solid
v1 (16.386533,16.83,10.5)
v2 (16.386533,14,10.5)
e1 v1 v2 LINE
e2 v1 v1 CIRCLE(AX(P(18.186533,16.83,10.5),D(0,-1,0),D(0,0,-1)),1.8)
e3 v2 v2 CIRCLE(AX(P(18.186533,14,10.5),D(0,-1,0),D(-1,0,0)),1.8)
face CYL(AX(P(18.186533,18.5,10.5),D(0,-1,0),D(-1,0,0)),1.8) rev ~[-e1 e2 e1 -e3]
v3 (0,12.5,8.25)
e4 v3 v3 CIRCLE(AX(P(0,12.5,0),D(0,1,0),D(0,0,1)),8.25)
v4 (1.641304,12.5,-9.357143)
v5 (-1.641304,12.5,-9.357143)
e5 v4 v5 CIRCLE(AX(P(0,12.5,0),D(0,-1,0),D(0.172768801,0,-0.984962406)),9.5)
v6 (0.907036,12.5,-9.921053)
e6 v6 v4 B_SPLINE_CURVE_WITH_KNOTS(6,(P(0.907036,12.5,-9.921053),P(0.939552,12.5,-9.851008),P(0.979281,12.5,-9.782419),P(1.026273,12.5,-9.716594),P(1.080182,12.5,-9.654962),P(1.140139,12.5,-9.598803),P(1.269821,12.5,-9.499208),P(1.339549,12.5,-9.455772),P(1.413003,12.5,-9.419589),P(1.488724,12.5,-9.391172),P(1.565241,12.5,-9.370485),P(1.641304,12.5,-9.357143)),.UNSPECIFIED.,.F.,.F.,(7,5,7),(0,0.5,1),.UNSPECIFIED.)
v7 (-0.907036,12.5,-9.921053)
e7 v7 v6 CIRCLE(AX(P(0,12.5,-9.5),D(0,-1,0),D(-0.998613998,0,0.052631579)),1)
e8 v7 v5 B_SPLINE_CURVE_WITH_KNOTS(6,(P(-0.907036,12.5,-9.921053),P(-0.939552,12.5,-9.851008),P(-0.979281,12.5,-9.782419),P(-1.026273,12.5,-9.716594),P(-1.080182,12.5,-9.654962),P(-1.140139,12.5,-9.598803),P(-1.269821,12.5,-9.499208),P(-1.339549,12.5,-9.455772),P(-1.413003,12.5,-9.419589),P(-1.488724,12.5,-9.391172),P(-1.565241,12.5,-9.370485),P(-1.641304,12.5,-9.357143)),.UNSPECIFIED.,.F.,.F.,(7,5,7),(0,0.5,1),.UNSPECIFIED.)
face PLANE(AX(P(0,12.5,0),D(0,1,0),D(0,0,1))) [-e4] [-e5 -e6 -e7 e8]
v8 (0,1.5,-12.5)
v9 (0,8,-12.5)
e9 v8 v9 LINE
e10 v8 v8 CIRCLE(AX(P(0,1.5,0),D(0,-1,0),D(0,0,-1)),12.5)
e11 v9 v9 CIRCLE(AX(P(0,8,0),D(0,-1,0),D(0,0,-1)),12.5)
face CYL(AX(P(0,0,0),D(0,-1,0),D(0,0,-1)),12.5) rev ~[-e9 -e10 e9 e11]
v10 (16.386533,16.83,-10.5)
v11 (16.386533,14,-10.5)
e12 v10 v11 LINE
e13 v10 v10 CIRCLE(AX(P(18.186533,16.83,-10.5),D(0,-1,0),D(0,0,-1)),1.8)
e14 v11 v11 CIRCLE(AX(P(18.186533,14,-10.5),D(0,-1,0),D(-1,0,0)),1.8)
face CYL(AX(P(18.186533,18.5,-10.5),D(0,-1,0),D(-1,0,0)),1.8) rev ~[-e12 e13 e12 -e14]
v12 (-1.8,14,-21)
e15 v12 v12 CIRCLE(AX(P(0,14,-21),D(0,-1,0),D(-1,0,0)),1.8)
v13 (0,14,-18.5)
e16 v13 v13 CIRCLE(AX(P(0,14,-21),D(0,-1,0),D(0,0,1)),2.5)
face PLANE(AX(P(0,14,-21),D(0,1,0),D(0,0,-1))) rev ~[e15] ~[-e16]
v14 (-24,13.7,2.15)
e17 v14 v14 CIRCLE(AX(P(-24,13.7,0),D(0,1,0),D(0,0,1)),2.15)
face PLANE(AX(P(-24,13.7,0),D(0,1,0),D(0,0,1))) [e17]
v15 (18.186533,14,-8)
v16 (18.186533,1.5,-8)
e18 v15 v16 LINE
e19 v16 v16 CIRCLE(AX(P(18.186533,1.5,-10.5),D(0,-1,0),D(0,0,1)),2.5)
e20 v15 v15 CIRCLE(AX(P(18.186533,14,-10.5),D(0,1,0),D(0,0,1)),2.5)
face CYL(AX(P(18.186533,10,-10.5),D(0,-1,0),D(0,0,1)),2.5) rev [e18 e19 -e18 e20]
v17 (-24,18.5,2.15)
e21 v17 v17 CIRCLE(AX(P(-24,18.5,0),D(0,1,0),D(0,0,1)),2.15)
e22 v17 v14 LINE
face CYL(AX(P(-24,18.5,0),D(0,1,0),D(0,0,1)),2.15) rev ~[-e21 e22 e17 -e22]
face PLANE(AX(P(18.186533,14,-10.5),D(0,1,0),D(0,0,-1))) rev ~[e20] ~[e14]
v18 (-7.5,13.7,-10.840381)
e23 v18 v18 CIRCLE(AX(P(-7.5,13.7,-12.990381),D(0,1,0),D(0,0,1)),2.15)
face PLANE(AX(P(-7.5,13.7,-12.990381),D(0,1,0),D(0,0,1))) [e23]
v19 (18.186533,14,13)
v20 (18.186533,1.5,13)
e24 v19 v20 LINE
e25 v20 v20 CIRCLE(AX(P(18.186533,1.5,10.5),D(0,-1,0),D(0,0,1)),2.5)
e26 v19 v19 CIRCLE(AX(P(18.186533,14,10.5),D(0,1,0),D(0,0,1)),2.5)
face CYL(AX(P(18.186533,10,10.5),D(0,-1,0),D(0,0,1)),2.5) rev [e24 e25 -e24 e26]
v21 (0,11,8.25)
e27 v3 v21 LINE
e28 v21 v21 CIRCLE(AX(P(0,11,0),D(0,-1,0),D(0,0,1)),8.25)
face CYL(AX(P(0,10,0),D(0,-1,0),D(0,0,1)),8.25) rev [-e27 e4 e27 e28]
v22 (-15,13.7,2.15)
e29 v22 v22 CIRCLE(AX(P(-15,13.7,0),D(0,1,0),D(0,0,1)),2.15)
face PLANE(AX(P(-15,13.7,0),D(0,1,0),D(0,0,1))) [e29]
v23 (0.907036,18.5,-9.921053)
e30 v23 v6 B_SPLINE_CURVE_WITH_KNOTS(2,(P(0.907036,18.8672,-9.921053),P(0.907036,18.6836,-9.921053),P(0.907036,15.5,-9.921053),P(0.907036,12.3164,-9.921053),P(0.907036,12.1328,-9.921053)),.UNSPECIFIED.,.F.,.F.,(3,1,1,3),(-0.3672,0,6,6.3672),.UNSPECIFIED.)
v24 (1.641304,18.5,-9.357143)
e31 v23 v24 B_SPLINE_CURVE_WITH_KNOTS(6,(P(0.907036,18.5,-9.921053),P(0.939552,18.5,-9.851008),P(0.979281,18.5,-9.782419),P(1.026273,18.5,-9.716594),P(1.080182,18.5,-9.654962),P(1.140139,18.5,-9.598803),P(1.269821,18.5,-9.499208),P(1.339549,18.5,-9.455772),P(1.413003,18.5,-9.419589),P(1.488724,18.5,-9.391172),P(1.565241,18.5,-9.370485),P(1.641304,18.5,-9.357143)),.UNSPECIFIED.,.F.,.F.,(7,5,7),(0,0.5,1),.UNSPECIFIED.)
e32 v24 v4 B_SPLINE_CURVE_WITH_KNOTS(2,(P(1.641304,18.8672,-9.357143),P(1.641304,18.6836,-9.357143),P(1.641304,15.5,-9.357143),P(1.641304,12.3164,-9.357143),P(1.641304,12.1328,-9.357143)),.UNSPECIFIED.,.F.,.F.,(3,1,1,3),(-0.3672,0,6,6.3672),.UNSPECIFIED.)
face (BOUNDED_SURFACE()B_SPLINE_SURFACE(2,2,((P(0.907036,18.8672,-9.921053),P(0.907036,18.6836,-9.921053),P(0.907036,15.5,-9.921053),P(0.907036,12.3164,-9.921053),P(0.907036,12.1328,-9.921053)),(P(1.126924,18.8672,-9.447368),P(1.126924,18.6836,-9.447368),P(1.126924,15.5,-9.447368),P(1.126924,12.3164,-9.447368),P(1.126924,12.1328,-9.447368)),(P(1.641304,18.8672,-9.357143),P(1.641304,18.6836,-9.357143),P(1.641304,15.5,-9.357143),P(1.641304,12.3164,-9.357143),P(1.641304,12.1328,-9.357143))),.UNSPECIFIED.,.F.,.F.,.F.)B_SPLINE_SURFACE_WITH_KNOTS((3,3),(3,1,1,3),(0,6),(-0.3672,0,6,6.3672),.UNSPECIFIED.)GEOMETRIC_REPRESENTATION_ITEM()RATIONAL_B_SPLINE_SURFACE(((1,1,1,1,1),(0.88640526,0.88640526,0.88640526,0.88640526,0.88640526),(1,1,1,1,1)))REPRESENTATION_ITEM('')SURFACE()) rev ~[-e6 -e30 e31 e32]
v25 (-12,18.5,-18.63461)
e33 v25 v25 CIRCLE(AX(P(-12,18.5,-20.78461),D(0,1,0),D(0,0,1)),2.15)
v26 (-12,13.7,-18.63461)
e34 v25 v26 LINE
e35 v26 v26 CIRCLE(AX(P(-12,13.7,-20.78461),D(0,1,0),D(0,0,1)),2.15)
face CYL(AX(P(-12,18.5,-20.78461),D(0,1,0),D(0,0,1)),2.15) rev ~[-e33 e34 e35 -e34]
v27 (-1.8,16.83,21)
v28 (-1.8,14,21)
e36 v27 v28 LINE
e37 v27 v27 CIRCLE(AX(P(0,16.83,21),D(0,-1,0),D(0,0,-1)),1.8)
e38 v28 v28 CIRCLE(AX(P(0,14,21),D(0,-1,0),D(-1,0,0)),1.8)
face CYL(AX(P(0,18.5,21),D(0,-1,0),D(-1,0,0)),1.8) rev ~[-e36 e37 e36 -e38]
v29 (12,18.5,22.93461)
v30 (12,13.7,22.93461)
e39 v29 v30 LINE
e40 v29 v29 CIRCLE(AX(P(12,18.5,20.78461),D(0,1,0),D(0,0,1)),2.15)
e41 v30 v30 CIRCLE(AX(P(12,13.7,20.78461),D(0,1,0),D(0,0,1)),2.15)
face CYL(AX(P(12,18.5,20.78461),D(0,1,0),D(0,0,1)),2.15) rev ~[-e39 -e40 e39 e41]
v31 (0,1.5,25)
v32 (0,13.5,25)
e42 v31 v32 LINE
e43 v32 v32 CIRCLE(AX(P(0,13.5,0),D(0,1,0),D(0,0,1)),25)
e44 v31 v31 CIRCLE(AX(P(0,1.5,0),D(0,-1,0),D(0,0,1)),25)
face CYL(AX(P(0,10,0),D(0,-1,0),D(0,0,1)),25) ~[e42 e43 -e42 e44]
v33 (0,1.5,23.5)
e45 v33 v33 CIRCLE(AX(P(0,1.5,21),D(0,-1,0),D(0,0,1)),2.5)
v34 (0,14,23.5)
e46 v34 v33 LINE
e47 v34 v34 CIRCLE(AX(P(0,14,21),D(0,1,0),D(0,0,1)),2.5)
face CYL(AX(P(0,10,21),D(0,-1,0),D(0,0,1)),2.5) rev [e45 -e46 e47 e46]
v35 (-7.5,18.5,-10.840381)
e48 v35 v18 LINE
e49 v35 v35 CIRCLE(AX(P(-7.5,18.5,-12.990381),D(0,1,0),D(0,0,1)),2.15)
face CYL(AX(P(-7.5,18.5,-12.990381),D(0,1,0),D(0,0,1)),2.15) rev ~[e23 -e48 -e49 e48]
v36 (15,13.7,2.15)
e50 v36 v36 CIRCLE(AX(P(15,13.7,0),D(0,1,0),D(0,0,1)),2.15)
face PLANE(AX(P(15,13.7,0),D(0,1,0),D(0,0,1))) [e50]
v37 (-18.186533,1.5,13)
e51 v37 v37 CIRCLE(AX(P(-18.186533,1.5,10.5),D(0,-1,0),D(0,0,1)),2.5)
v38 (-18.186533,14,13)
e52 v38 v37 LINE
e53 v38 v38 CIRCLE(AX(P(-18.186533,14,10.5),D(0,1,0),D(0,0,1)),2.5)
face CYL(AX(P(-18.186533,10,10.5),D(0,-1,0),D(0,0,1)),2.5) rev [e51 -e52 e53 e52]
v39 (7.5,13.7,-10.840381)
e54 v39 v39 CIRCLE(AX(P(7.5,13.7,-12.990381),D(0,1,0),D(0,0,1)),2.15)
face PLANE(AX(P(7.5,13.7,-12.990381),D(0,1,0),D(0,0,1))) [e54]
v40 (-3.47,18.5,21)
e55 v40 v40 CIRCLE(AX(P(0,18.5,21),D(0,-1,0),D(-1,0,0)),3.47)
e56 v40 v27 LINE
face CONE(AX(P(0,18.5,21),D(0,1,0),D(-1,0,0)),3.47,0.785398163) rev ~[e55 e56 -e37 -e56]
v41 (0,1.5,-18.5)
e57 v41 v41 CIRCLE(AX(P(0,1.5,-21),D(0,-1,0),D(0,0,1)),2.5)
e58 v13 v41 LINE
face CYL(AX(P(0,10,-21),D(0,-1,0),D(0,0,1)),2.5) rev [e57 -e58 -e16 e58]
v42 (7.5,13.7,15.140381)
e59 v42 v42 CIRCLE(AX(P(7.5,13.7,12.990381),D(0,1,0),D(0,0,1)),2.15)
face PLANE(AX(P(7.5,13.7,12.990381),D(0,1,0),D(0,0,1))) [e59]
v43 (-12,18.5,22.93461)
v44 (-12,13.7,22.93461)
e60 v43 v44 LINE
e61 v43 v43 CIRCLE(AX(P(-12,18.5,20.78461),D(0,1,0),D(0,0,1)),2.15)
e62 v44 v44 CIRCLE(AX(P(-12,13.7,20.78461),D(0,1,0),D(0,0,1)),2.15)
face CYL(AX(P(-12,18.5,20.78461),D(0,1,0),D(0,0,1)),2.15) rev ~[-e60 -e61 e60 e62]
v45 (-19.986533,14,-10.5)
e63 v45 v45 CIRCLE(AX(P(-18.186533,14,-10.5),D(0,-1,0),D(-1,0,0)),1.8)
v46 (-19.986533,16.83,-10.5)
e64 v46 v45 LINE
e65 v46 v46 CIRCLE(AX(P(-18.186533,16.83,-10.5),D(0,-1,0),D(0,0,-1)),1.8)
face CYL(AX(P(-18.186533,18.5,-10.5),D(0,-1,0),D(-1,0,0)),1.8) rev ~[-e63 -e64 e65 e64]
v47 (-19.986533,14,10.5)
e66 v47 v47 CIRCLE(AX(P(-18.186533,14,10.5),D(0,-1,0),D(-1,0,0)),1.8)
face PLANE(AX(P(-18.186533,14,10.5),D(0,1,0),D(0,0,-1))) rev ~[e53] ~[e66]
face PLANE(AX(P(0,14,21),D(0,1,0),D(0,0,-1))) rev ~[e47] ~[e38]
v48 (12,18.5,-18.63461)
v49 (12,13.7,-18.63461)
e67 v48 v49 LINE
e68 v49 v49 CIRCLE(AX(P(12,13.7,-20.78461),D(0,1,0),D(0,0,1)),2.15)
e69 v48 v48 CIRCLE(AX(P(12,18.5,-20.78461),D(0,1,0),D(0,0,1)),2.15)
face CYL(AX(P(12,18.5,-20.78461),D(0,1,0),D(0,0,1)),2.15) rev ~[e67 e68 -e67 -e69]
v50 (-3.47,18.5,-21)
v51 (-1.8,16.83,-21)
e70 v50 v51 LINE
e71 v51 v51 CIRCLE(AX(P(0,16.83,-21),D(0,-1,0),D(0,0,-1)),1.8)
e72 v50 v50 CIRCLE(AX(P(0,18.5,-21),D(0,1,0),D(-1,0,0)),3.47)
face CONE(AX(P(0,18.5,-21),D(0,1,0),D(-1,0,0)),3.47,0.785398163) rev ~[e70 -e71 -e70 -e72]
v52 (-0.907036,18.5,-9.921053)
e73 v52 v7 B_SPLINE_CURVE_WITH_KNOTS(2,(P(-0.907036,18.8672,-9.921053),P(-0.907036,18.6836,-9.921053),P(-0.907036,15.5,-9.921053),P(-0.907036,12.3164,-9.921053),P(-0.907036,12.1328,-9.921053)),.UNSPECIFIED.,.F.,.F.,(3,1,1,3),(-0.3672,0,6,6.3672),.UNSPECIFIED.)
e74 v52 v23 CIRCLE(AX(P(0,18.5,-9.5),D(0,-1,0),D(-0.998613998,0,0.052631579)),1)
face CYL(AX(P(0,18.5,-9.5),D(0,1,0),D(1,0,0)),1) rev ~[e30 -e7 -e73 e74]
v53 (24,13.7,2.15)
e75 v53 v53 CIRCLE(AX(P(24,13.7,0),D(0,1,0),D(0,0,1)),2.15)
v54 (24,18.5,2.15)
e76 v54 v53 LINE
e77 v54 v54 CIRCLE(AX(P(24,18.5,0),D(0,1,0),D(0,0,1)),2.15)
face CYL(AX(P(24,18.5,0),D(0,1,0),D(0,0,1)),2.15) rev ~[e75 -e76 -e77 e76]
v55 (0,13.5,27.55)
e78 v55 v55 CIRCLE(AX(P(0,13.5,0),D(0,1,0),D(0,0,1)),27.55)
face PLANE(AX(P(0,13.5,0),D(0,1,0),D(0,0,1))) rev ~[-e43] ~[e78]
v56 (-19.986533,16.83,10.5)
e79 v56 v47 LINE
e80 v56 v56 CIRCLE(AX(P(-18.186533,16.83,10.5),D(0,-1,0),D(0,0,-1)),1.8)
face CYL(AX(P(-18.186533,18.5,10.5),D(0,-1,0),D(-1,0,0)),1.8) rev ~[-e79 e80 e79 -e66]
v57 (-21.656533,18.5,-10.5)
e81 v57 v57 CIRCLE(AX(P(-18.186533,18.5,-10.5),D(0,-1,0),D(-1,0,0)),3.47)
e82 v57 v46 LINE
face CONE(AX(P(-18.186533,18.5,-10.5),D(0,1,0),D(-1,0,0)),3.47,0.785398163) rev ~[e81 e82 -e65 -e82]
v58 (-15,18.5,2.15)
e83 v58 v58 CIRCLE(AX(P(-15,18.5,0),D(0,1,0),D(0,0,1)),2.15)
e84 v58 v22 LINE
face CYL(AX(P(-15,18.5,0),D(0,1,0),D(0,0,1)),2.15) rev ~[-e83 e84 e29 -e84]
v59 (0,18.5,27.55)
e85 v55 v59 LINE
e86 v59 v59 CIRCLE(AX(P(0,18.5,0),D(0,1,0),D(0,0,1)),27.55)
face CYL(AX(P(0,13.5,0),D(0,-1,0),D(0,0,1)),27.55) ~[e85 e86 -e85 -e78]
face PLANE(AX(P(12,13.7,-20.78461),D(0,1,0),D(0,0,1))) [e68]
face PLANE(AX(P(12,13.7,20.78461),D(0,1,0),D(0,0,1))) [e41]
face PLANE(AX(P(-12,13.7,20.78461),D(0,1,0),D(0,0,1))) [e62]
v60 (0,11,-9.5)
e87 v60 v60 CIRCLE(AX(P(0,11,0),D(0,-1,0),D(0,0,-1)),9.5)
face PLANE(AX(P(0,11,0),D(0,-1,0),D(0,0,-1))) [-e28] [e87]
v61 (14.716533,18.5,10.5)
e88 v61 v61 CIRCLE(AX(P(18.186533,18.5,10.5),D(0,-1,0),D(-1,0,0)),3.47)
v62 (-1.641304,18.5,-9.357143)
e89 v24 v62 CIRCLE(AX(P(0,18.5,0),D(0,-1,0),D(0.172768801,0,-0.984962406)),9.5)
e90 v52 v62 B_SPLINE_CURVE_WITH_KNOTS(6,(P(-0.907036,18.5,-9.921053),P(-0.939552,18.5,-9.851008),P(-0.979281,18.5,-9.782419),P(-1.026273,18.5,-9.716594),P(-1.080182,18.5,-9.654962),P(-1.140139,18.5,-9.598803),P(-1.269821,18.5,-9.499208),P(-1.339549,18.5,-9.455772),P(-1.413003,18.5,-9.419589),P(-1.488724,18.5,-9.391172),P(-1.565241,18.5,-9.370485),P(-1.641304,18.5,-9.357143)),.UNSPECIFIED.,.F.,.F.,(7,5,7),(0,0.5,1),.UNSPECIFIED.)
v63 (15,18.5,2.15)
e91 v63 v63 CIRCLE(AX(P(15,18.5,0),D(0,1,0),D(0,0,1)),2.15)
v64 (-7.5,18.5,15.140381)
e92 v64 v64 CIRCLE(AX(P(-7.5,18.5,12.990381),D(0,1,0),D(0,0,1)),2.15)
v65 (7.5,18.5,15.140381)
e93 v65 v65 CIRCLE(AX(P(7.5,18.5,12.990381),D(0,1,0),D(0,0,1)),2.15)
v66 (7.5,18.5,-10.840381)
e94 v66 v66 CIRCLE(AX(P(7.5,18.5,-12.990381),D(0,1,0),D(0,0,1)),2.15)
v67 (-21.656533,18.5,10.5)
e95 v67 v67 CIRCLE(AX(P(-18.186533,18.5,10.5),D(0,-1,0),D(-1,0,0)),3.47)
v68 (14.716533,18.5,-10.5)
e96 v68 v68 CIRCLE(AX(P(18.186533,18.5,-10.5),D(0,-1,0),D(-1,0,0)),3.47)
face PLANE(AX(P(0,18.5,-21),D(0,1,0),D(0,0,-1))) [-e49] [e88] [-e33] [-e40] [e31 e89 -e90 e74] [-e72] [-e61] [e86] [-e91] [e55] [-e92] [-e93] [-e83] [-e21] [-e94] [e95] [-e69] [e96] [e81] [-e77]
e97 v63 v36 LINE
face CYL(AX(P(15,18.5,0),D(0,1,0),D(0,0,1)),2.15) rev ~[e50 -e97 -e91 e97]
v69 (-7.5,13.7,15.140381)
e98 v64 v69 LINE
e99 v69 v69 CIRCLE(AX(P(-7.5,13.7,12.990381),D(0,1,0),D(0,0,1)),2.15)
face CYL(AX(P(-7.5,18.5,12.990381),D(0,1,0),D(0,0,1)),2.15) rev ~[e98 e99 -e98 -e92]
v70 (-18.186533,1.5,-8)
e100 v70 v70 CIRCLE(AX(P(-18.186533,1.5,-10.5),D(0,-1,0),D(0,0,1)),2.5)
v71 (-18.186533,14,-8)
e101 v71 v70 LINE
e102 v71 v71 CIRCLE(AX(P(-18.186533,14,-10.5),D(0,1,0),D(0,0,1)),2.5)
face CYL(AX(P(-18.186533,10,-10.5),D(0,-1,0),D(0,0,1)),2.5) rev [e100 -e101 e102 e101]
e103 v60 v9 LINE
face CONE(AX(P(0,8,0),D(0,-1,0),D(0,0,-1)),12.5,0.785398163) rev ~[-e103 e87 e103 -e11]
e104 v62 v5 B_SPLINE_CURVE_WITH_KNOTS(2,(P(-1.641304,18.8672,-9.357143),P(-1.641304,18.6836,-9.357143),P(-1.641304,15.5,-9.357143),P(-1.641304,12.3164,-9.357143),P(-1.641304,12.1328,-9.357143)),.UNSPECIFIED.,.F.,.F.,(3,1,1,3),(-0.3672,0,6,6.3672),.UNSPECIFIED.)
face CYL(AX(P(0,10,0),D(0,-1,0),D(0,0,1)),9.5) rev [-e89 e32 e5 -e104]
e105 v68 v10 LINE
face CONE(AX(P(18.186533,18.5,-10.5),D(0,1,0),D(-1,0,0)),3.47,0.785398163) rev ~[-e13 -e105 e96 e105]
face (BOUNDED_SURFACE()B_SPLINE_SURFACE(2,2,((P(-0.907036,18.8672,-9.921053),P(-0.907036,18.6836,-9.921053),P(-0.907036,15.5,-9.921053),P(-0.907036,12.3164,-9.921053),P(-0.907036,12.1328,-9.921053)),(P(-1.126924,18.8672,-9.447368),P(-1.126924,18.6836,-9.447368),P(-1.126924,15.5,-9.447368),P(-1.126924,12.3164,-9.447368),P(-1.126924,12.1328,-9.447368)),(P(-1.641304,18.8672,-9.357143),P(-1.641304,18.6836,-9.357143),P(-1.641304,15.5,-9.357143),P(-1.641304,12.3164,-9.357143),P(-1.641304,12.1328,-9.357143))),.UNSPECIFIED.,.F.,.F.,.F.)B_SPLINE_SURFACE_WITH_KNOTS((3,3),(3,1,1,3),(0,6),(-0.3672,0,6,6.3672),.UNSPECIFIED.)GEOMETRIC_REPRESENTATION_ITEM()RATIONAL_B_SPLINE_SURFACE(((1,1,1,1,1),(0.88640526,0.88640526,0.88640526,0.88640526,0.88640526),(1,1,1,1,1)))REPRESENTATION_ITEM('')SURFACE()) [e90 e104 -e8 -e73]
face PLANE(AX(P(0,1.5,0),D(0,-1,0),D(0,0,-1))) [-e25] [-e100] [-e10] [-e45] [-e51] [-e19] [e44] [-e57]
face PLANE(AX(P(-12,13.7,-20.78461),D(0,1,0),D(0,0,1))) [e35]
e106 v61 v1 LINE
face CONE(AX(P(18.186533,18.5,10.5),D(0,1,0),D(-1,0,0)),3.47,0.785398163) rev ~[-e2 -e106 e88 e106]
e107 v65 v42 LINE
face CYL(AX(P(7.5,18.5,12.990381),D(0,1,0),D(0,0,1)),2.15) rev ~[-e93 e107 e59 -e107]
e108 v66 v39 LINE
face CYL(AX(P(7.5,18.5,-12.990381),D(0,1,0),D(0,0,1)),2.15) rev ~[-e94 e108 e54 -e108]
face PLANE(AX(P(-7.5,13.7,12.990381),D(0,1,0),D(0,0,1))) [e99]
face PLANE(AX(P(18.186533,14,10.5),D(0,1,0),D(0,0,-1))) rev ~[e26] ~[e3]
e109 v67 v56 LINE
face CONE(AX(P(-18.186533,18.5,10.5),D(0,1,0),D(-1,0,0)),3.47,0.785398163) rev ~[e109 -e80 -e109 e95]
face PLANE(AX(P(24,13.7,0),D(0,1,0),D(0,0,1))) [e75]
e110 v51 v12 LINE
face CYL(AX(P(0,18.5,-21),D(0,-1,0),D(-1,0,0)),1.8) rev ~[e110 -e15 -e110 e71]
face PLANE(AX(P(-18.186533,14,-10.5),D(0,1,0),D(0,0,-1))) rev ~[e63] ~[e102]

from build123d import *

# Parameters (mm, degrees)
SKETCH1_R                                            = 25
SKETCH1_R_2                                          = 2.5
SKETCH1_R_3                                          = 8.25
BOSS_EXTRUDE1_DEPTH                                  = 10
SKETCH2_R                                            = 15.5
SKETCH2_R_2                                          = 9.5
BOSS_EXTRUDE2_DEPTH                                  = 8.5
SKETCH4_R                                            = 9.5
SKETCH4_R_2                                          = 8.25
BOSS_EXTRUDE3_DEPTH                                  = 2.5
SKETCH3_R                                            = 12.5
CUT_EXTRUDE1_DEPTH                                   = 11
CHAMFER1_SIZE                                        = 3
SKETCH5_R                                            = 25
SKETCH5_R_2                                          = 2.5
SKETCH5_R_3                                          = 15.5
BOSS_EXTRUDE4_DEPTH                                  = 8.5
BOSS_EXTRUDE5_START                                  = -5
SKETCH6_R                                            = 27.55
SKETCH6_R_2                                          = 25
BOSS_EXTRUDE5_DEPTH                                  = 5
SKETCH8_R                                            = 1
CUT_EXTRUDE2_DEPTH                                   = 6
FILLET1_R                                            = 1
SKETCH11_R                                           = 2.15
CUT_EXTRUDE3_DEPTH                                   = 4.8
SKETCH12_R                                           = 25
SKETCH12_R_2                                         = 2.5
SKETCH12_R_3                                         = 12.5
CUT_EXTRUDE4_DEPTH                                   = 1.5
BOSS_EXTRUDE8_START                                  = -4.5
SKETCH14_R                                           = 2.5
SKETCH14_R_2                                         = 1.5
BOSS_EXTRUDE8_DEPTH                                  = 4.5
CSK_FOR_M3_SOCKET_COUNTERSUNK_HEAD_SCREW_D           = 3.6
CSK_FOR_M3_SOCKET_COUNTERSUNK_HEAD_SCREW_CSINK_D     = 6.94
CSK_FOR_M3_SOCKET_COUNTERSUNK_HEAD_SCREW_CSINK_ANGLE = 90


with BuildPart() as part:
    # Sketch1 → Boss-Extrude1 (new body)
    with BuildSketch(Plane(origin=(0, 0, 0), x_dir=(1, 0, 0), z_dir=(0, 1, 0))):
        with Locations(Location((0, 0, 0), (0, 0, 270))):
            Circle(SKETCH1_R)
        with Locations(Location((0, 21, 0), (0, 0, 270))):
            Circle(SKETCH1_R_2, mode=Mode.SUBTRACT)
        with Locations(Location((18.186533479, 10.5, 0), (0, 0, 270))):
            Circle(SKETCH1_R_2, mode=Mode.SUBTRACT)
        with Locations(Location((18.186533479, -10.5, 0), (0, 0, 270))):
            Circle(SKETCH1_R_2, mode=Mode.SUBTRACT)
        with Locations(Location((0, -21, 0), (0, 0, 270))):
            Circle(SKETCH1_R_2, mode=Mode.SUBTRACT)
        with Locations(Location((-18.186533479, -10.5, 0), (0, 0, 270))):
            Circle(SKETCH1_R_2, mode=Mode.SUBTRACT)
        with Locations(Location((-18.186533479, 10.5, 0), (0, 0, 270))):
            Circle(SKETCH1_R_2, mode=Mode.SUBTRACT)
        with Locations(Location((0, 0, 0), (0, 0, 270))):
            Circle(SKETCH1_R_3, mode=Mode.SUBTRACT)
    extrude(amount=BOSS_EXTRUDE1_DEPTH)

    # Sketch2 → Boss-Extrude2 (add)
    with BuildSketch(Plane(origin=(0, 10, 0), x_dir=(1, 0, 0), z_dir=(0, 1, 0))):
        with Locations(Location((0, 0, 0), (0, 0, 270))):
            Circle(SKETCH2_R)
        with Locations(Location((0, 0, 0), (0, 0, 270))):
            Circle(SKETCH2_R_2, mode=Mode.SUBTRACT)
    extrude(amount=BOSS_EXTRUDE2_DEPTH)

    # Sketch4 → Boss-Extrude3 (add)
    with BuildSketch(Plane(origin=(0, 10, 0), x_dir=(1, 0, 0), z_dir=(0, 1, 0))):
        with Locations(Location((0, 0, 0), (0, 0, 270))):
            Circle(SKETCH4_R)
        with Locations(Location((0, 0, 0), (0, 0, 270))):
            Circle(SKETCH4_R_2, mode=Mode.SUBTRACT)
    extrude(amount=BOSS_EXTRUDE3_DEPTH)

    # Sketch3 → Cut-Extrude1 (cut)
    with BuildSketch(Plane.XZ):
        with Locations(Location((0, 0, 0), (0, 0, 270))):
            Circle(SKETCH3_R)
    extrude(amount=-CUT_EXTRUDE1_DEPTH, mode=Mode.SUBTRACT)

    # Chamfer1
    chamfer1_edges = [part.edges().sort_by_distance(p)[0] for p in [
        (0, 11, 12.5),
    ]]
    chamfer(chamfer1_edges, length=CHAMFER1_SIZE)

    # Sketch5 → Boss-Extrude4 (add)
    with BuildSketch(Plane(origin=(0, 10, 0), x_dir=(1, 0, 0), z_dir=(0, 1, 0))):
        with Locations(Location((0, 0, 0), (0, 0, 270))):
            Circle(SKETCH5_R)
        with Locations(Location((0, 21, 0), (0, 0, 270))):
            Circle(SKETCH5_R_2, mode=Mode.SUBTRACT)
        with Locations(Location((18.186533479, 10.5, 0), (0, 0, 270))):
            Circle(SKETCH5_R_2, mode=Mode.SUBTRACT)
        with Locations(Location((18.186533479, -10.5, 0), (0, 0, 270))):
            Circle(SKETCH5_R_2, mode=Mode.SUBTRACT)
        with Locations(Location((0, -21, 0), (0, 0, 270))):
            Circle(SKETCH5_R_2, mode=Mode.SUBTRACT)
        with Locations(Location((-18.186533479, -10.5, 0), (0, 0, 270))):
            Circle(SKETCH5_R_2, mode=Mode.SUBTRACT)
        with Locations(Location((-18.186533479, 10.5, 0), (0, 0, 270))):
            Circle(SKETCH5_R_2, mode=Mode.SUBTRACT)
        Circle(SKETCH5_R_3, mode=Mode.SUBTRACT)
    extrude(amount=BOSS_EXTRUDE4_DEPTH)

    # Sketch6 → Boss-Extrude5 (add)
    with BuildSketch(Plane(origin=(0, 18.5, 0), x_dir=(1, 0, 0), z_dir=(0, 1, 0)).offset(BOSS_EXTRUDE5_START)):
        with Locations(Location((0, 0, 0), (0, 0, 270))):
            Circle(SKETCH6_R)
        with Locations(Location((0, 0, 0), (0, 0, 270))):
            Circle(SKETCH6_R_2, mode=Mode.SUBTRACT)
    extrude(amount=BOSS_EXTRUDE5_DEPTH)

    # Sketch8 → Cut-Extrude2 (cut)
    with BuildSketch(Plane(origin=(0, 18.5, 0), x_dir=(1, 0, 0), z_dir=(0, 1, 0))):
        with Locations((0, 9.5)):
            Circle(SKETCH8_R)
    extrude(amount=-CUT_EXTRUDE2_DEPTH, mode=Mode.SUBTRACT)

    # Fillet1
    fillet1_edges = [part.edges().sort_by_distance(p)[0] for p in [
        (0.998613998, 15.5, -9.447368421),
        (-0.998613998, 15.5, -9.447368421),
    ]]
    fillet(fillet1_edges, radius=FILLET1_R)

    # Sketch11 → Cut-Extrude3 (cut)
    with BuildSketch(Plane(origin=(0, 18.5, 0), x_dir=(1, 0, 0), z_dir=(0, 1, 0))):
        with Locations(Location((7.5, 12.990381057, 0), (0, 0, 270))):
            Circle(SKETCH11_R)
        with Locations(Location((15, 0, 0), (0, 0, 270))):
            Circle(SKETCH11_R)
        with Locations(Location((7.5, -12.990381057, 0), (0, 0, 270))):
            Circle(SKETCH11_R)
        with Locations(Location((-7.5, -12.990381057, 0), (0, 0, 270))):
            Circle(SKETCH11_R)
        with Locations(Location((-15, 0, 0), (0, 0, 270))):
            Circle(SKETCH11_R)
        with Locations(Location((-7.5, 12.990381057, 0), (0, 0, 270))):
            Circle(SKETCH11_R)
        with Locations(Location((-24, 0, 0), (0, 0, 270))):
            Circle(SKETCH11_R)
        with Locations(Location((-12, 20.784609691, 0), (0, 0, 270))):
            Circle(SKETCH11_R)
        with Locations(Location((12, 20.784609691, 0), (0, 0, 270))):
            Circle(SKETCH11_R)
        with Locations(Location((24, 0, 0), (0, 0, 270))):
            Circle(SKETCH11_R)
        with Locations(Location((12, -20.784609691, 0), (0, 0, 270))):
            Circle(SKETCH11_R)
        with Locations(Location((-12, -20.784609691, 0), (0, 0, 270))):
            Circle(SKETCH11_R)
    extrude(amount=-CUT_EXTRUDE3_DEPTH, mode=Mode.SUBTRACT)

    # Sketch12 → Cut-Extrude4 (cut)
    with BuildSketch(Plane.XZ):
        with Locations(Location((0, 0, 0), (0, 0, 270))):
            Circle(SKETCH12_R)
        with Locations(Location((18.186533479, 10.5, 0), (0, 0, 270))):
            Circle(SKETCH12_R_2, mode=Mode.SUBTRACT)
        with Locations(Location((18.186533479, -10.5, 0), (0, 0, 270))):
            Circle(SKETCH12_R_2, mode=Mode.SUBTRACT)
        with Locations(Location((0, -21, 0), (0, 0, 270))):
            Circle(SKETCH12_R_2, mode=Mode.SUBTRACT)
        with Locations(Location((-18.186533479, -10.5, 0), (0, 0, 270))):
            Circle(SKETCH12_R_2, mode=Mode.SUBTRACT)
        with Locations(Location((-18.186533479, 10.5, 0), (0, 0, 270))):
            Circle(SKETCH12_R_2, mode=Mode.SUBTRACT)
        with Locations(Location((0, 21, 0), (0, 0, 270))):
            Circle(SKETCH12_R_2, mode=Mode.SUBTRACT)
        with Locations(Location((0, 0, 0), (0, 0, 270))):
            Circle(SKETCH12_R_3, mode=Mode.SUBTRACT)
    extrude(amount=-CUT_EXTRUDE4_DEPTH, mode=Mode.SUBTRACT)

    # Sketch14 → Boss-Extrude8 (add)
    # profile 1 of 6: a face of its own
    with BuildSketch(Plane(origin=(0, 18.5, 0), x_dir=(1, 0, 0), z_dir=(0, 1, 0)).offset(BOSS_EXTRUDE8_START)):
        with Locations(Location((0, 21, 0), (0, 0, 90))):
            Circle(SKETCH14_R)
        with Locations(Location((0, 21, 0), (0, 0, 270))):
            Circle(SKETCH14_R_2, mode=Mode.SUBTRACT)
    # profile 2 of 6: a face of its own
    with BuildSketch(Plane(origin=(0, 18.5, 0), x_dir=(1, 0, 0), z_dir=(0, 1, 0)).offset(BOSS_EXTRUDE8_START)):
        with Locations(Location((18.186533479, 10.5, 0), (0, 0, 90))):
            Circle(SKETCH14_R)
        with Locations(Location((18.186533479, 10.5, 0), (0, 0, 270))):
            Circle(SKETCH14_R_2, mode=Mode.SUBTRACT)
    # profile 3 of 6: a face of its own
    with BuildSketch(Plane(origin=(0, 18.5, 0), x_dir=(1, 0, 0), z_dir=(0, 1, 0)).offset(BOSS_EXTRUDE8_START)):
        with Locations(Location((18.186533479, -10.5, 0), (0, 0, 90))):
            Circle(SKETCH14_R)
        with Locations(Location((18.186533479, -10.5, 0), (0, 0, 270))):
            Circle(SKETCH14_R_2, mode=Mode.SUBTRACT)
    # profile 4 of 6: a face of its own
    with BuildSketch(Plane(origin=(0, 18.5, 0), x_dir=(1, 0, 0), z_dir=(0, 1, 0)).offset(BOSS_EXTRUDE8_START)):
        with Locations(Location((0, -21, 0), (0, 0, 90))):
            Circle(SKETCH14_R)
        with Locations(Location((0, -21, 0), (0, 0, 270))):
            Circle(SKETCH14_R_2, mode=Mode.SUBTRACT)
    # profile 5 of 6: a face of its own
    with BuildSketch(Plane(origin=(0, 18.5, 0), x_dir=(1, 0, 0), z_dir=(0, 1, 0)).offset(BOSS_EXTRUDE8_START)):
        with Locations(Location((-18.186533479, -10.5, 0), (0, 0, 90))):
            Circle(SKETCH14_R)
        with Locations(Location((-18.186533479, -10.5, 0), (0, 0, 270))):
            Circle(SKETCH14_R_2, mode=Mode.SUBTRACT)
    # profile 6 of 6: a face of its own
    with BuildSketch(Plane(origin=(0, 18.5, 0), x_dir=(1, 0, 0), z_dir=(0, 1, 0)).offset(BOSS_EXTRUDE8_START)):
        with Locations(Location((-18.186533479, 10.5, 0), (0, 0, 90))):
            Circle(SKETCH14_R)
        with Locations(Location((-18.186533479, 10.5, 0), (0, 0, 270))):
            Circle(SKETCH14_R_2, mode=Mode.SUBTRACT)
    extrude(amount=BOSS_EXTRUDE8_DEPTH)

    # CSK for M3 socket countersunk head screw1 (through all)
    with Locations(Plane(origin=(0, 18.5, 0), x_dir=(1, 0, 0), z_dir=(0, 1, 0))):
        with Locations((0, 21), (18.186533479, 10.5), (18.186533479, -10.5), (0, -21), (-18.186533479, -10.5), (-18.186533479, 10.5)):
            CounterSinkHole(CSK_FOR_M3_SOCKET_COUNTERSUNK_HEAD_SCREW_D / 2, CSK_FOR_M3_SOCKET_COUNTERSUNK_HEAD_SCREW_CSINK_D / 2, counter_sink_angle=CSK_FOR_M3_SOCKET_COUNTERSUNK_HEAD_SCREW_CSINK_ANGLE)


solid = part.part
